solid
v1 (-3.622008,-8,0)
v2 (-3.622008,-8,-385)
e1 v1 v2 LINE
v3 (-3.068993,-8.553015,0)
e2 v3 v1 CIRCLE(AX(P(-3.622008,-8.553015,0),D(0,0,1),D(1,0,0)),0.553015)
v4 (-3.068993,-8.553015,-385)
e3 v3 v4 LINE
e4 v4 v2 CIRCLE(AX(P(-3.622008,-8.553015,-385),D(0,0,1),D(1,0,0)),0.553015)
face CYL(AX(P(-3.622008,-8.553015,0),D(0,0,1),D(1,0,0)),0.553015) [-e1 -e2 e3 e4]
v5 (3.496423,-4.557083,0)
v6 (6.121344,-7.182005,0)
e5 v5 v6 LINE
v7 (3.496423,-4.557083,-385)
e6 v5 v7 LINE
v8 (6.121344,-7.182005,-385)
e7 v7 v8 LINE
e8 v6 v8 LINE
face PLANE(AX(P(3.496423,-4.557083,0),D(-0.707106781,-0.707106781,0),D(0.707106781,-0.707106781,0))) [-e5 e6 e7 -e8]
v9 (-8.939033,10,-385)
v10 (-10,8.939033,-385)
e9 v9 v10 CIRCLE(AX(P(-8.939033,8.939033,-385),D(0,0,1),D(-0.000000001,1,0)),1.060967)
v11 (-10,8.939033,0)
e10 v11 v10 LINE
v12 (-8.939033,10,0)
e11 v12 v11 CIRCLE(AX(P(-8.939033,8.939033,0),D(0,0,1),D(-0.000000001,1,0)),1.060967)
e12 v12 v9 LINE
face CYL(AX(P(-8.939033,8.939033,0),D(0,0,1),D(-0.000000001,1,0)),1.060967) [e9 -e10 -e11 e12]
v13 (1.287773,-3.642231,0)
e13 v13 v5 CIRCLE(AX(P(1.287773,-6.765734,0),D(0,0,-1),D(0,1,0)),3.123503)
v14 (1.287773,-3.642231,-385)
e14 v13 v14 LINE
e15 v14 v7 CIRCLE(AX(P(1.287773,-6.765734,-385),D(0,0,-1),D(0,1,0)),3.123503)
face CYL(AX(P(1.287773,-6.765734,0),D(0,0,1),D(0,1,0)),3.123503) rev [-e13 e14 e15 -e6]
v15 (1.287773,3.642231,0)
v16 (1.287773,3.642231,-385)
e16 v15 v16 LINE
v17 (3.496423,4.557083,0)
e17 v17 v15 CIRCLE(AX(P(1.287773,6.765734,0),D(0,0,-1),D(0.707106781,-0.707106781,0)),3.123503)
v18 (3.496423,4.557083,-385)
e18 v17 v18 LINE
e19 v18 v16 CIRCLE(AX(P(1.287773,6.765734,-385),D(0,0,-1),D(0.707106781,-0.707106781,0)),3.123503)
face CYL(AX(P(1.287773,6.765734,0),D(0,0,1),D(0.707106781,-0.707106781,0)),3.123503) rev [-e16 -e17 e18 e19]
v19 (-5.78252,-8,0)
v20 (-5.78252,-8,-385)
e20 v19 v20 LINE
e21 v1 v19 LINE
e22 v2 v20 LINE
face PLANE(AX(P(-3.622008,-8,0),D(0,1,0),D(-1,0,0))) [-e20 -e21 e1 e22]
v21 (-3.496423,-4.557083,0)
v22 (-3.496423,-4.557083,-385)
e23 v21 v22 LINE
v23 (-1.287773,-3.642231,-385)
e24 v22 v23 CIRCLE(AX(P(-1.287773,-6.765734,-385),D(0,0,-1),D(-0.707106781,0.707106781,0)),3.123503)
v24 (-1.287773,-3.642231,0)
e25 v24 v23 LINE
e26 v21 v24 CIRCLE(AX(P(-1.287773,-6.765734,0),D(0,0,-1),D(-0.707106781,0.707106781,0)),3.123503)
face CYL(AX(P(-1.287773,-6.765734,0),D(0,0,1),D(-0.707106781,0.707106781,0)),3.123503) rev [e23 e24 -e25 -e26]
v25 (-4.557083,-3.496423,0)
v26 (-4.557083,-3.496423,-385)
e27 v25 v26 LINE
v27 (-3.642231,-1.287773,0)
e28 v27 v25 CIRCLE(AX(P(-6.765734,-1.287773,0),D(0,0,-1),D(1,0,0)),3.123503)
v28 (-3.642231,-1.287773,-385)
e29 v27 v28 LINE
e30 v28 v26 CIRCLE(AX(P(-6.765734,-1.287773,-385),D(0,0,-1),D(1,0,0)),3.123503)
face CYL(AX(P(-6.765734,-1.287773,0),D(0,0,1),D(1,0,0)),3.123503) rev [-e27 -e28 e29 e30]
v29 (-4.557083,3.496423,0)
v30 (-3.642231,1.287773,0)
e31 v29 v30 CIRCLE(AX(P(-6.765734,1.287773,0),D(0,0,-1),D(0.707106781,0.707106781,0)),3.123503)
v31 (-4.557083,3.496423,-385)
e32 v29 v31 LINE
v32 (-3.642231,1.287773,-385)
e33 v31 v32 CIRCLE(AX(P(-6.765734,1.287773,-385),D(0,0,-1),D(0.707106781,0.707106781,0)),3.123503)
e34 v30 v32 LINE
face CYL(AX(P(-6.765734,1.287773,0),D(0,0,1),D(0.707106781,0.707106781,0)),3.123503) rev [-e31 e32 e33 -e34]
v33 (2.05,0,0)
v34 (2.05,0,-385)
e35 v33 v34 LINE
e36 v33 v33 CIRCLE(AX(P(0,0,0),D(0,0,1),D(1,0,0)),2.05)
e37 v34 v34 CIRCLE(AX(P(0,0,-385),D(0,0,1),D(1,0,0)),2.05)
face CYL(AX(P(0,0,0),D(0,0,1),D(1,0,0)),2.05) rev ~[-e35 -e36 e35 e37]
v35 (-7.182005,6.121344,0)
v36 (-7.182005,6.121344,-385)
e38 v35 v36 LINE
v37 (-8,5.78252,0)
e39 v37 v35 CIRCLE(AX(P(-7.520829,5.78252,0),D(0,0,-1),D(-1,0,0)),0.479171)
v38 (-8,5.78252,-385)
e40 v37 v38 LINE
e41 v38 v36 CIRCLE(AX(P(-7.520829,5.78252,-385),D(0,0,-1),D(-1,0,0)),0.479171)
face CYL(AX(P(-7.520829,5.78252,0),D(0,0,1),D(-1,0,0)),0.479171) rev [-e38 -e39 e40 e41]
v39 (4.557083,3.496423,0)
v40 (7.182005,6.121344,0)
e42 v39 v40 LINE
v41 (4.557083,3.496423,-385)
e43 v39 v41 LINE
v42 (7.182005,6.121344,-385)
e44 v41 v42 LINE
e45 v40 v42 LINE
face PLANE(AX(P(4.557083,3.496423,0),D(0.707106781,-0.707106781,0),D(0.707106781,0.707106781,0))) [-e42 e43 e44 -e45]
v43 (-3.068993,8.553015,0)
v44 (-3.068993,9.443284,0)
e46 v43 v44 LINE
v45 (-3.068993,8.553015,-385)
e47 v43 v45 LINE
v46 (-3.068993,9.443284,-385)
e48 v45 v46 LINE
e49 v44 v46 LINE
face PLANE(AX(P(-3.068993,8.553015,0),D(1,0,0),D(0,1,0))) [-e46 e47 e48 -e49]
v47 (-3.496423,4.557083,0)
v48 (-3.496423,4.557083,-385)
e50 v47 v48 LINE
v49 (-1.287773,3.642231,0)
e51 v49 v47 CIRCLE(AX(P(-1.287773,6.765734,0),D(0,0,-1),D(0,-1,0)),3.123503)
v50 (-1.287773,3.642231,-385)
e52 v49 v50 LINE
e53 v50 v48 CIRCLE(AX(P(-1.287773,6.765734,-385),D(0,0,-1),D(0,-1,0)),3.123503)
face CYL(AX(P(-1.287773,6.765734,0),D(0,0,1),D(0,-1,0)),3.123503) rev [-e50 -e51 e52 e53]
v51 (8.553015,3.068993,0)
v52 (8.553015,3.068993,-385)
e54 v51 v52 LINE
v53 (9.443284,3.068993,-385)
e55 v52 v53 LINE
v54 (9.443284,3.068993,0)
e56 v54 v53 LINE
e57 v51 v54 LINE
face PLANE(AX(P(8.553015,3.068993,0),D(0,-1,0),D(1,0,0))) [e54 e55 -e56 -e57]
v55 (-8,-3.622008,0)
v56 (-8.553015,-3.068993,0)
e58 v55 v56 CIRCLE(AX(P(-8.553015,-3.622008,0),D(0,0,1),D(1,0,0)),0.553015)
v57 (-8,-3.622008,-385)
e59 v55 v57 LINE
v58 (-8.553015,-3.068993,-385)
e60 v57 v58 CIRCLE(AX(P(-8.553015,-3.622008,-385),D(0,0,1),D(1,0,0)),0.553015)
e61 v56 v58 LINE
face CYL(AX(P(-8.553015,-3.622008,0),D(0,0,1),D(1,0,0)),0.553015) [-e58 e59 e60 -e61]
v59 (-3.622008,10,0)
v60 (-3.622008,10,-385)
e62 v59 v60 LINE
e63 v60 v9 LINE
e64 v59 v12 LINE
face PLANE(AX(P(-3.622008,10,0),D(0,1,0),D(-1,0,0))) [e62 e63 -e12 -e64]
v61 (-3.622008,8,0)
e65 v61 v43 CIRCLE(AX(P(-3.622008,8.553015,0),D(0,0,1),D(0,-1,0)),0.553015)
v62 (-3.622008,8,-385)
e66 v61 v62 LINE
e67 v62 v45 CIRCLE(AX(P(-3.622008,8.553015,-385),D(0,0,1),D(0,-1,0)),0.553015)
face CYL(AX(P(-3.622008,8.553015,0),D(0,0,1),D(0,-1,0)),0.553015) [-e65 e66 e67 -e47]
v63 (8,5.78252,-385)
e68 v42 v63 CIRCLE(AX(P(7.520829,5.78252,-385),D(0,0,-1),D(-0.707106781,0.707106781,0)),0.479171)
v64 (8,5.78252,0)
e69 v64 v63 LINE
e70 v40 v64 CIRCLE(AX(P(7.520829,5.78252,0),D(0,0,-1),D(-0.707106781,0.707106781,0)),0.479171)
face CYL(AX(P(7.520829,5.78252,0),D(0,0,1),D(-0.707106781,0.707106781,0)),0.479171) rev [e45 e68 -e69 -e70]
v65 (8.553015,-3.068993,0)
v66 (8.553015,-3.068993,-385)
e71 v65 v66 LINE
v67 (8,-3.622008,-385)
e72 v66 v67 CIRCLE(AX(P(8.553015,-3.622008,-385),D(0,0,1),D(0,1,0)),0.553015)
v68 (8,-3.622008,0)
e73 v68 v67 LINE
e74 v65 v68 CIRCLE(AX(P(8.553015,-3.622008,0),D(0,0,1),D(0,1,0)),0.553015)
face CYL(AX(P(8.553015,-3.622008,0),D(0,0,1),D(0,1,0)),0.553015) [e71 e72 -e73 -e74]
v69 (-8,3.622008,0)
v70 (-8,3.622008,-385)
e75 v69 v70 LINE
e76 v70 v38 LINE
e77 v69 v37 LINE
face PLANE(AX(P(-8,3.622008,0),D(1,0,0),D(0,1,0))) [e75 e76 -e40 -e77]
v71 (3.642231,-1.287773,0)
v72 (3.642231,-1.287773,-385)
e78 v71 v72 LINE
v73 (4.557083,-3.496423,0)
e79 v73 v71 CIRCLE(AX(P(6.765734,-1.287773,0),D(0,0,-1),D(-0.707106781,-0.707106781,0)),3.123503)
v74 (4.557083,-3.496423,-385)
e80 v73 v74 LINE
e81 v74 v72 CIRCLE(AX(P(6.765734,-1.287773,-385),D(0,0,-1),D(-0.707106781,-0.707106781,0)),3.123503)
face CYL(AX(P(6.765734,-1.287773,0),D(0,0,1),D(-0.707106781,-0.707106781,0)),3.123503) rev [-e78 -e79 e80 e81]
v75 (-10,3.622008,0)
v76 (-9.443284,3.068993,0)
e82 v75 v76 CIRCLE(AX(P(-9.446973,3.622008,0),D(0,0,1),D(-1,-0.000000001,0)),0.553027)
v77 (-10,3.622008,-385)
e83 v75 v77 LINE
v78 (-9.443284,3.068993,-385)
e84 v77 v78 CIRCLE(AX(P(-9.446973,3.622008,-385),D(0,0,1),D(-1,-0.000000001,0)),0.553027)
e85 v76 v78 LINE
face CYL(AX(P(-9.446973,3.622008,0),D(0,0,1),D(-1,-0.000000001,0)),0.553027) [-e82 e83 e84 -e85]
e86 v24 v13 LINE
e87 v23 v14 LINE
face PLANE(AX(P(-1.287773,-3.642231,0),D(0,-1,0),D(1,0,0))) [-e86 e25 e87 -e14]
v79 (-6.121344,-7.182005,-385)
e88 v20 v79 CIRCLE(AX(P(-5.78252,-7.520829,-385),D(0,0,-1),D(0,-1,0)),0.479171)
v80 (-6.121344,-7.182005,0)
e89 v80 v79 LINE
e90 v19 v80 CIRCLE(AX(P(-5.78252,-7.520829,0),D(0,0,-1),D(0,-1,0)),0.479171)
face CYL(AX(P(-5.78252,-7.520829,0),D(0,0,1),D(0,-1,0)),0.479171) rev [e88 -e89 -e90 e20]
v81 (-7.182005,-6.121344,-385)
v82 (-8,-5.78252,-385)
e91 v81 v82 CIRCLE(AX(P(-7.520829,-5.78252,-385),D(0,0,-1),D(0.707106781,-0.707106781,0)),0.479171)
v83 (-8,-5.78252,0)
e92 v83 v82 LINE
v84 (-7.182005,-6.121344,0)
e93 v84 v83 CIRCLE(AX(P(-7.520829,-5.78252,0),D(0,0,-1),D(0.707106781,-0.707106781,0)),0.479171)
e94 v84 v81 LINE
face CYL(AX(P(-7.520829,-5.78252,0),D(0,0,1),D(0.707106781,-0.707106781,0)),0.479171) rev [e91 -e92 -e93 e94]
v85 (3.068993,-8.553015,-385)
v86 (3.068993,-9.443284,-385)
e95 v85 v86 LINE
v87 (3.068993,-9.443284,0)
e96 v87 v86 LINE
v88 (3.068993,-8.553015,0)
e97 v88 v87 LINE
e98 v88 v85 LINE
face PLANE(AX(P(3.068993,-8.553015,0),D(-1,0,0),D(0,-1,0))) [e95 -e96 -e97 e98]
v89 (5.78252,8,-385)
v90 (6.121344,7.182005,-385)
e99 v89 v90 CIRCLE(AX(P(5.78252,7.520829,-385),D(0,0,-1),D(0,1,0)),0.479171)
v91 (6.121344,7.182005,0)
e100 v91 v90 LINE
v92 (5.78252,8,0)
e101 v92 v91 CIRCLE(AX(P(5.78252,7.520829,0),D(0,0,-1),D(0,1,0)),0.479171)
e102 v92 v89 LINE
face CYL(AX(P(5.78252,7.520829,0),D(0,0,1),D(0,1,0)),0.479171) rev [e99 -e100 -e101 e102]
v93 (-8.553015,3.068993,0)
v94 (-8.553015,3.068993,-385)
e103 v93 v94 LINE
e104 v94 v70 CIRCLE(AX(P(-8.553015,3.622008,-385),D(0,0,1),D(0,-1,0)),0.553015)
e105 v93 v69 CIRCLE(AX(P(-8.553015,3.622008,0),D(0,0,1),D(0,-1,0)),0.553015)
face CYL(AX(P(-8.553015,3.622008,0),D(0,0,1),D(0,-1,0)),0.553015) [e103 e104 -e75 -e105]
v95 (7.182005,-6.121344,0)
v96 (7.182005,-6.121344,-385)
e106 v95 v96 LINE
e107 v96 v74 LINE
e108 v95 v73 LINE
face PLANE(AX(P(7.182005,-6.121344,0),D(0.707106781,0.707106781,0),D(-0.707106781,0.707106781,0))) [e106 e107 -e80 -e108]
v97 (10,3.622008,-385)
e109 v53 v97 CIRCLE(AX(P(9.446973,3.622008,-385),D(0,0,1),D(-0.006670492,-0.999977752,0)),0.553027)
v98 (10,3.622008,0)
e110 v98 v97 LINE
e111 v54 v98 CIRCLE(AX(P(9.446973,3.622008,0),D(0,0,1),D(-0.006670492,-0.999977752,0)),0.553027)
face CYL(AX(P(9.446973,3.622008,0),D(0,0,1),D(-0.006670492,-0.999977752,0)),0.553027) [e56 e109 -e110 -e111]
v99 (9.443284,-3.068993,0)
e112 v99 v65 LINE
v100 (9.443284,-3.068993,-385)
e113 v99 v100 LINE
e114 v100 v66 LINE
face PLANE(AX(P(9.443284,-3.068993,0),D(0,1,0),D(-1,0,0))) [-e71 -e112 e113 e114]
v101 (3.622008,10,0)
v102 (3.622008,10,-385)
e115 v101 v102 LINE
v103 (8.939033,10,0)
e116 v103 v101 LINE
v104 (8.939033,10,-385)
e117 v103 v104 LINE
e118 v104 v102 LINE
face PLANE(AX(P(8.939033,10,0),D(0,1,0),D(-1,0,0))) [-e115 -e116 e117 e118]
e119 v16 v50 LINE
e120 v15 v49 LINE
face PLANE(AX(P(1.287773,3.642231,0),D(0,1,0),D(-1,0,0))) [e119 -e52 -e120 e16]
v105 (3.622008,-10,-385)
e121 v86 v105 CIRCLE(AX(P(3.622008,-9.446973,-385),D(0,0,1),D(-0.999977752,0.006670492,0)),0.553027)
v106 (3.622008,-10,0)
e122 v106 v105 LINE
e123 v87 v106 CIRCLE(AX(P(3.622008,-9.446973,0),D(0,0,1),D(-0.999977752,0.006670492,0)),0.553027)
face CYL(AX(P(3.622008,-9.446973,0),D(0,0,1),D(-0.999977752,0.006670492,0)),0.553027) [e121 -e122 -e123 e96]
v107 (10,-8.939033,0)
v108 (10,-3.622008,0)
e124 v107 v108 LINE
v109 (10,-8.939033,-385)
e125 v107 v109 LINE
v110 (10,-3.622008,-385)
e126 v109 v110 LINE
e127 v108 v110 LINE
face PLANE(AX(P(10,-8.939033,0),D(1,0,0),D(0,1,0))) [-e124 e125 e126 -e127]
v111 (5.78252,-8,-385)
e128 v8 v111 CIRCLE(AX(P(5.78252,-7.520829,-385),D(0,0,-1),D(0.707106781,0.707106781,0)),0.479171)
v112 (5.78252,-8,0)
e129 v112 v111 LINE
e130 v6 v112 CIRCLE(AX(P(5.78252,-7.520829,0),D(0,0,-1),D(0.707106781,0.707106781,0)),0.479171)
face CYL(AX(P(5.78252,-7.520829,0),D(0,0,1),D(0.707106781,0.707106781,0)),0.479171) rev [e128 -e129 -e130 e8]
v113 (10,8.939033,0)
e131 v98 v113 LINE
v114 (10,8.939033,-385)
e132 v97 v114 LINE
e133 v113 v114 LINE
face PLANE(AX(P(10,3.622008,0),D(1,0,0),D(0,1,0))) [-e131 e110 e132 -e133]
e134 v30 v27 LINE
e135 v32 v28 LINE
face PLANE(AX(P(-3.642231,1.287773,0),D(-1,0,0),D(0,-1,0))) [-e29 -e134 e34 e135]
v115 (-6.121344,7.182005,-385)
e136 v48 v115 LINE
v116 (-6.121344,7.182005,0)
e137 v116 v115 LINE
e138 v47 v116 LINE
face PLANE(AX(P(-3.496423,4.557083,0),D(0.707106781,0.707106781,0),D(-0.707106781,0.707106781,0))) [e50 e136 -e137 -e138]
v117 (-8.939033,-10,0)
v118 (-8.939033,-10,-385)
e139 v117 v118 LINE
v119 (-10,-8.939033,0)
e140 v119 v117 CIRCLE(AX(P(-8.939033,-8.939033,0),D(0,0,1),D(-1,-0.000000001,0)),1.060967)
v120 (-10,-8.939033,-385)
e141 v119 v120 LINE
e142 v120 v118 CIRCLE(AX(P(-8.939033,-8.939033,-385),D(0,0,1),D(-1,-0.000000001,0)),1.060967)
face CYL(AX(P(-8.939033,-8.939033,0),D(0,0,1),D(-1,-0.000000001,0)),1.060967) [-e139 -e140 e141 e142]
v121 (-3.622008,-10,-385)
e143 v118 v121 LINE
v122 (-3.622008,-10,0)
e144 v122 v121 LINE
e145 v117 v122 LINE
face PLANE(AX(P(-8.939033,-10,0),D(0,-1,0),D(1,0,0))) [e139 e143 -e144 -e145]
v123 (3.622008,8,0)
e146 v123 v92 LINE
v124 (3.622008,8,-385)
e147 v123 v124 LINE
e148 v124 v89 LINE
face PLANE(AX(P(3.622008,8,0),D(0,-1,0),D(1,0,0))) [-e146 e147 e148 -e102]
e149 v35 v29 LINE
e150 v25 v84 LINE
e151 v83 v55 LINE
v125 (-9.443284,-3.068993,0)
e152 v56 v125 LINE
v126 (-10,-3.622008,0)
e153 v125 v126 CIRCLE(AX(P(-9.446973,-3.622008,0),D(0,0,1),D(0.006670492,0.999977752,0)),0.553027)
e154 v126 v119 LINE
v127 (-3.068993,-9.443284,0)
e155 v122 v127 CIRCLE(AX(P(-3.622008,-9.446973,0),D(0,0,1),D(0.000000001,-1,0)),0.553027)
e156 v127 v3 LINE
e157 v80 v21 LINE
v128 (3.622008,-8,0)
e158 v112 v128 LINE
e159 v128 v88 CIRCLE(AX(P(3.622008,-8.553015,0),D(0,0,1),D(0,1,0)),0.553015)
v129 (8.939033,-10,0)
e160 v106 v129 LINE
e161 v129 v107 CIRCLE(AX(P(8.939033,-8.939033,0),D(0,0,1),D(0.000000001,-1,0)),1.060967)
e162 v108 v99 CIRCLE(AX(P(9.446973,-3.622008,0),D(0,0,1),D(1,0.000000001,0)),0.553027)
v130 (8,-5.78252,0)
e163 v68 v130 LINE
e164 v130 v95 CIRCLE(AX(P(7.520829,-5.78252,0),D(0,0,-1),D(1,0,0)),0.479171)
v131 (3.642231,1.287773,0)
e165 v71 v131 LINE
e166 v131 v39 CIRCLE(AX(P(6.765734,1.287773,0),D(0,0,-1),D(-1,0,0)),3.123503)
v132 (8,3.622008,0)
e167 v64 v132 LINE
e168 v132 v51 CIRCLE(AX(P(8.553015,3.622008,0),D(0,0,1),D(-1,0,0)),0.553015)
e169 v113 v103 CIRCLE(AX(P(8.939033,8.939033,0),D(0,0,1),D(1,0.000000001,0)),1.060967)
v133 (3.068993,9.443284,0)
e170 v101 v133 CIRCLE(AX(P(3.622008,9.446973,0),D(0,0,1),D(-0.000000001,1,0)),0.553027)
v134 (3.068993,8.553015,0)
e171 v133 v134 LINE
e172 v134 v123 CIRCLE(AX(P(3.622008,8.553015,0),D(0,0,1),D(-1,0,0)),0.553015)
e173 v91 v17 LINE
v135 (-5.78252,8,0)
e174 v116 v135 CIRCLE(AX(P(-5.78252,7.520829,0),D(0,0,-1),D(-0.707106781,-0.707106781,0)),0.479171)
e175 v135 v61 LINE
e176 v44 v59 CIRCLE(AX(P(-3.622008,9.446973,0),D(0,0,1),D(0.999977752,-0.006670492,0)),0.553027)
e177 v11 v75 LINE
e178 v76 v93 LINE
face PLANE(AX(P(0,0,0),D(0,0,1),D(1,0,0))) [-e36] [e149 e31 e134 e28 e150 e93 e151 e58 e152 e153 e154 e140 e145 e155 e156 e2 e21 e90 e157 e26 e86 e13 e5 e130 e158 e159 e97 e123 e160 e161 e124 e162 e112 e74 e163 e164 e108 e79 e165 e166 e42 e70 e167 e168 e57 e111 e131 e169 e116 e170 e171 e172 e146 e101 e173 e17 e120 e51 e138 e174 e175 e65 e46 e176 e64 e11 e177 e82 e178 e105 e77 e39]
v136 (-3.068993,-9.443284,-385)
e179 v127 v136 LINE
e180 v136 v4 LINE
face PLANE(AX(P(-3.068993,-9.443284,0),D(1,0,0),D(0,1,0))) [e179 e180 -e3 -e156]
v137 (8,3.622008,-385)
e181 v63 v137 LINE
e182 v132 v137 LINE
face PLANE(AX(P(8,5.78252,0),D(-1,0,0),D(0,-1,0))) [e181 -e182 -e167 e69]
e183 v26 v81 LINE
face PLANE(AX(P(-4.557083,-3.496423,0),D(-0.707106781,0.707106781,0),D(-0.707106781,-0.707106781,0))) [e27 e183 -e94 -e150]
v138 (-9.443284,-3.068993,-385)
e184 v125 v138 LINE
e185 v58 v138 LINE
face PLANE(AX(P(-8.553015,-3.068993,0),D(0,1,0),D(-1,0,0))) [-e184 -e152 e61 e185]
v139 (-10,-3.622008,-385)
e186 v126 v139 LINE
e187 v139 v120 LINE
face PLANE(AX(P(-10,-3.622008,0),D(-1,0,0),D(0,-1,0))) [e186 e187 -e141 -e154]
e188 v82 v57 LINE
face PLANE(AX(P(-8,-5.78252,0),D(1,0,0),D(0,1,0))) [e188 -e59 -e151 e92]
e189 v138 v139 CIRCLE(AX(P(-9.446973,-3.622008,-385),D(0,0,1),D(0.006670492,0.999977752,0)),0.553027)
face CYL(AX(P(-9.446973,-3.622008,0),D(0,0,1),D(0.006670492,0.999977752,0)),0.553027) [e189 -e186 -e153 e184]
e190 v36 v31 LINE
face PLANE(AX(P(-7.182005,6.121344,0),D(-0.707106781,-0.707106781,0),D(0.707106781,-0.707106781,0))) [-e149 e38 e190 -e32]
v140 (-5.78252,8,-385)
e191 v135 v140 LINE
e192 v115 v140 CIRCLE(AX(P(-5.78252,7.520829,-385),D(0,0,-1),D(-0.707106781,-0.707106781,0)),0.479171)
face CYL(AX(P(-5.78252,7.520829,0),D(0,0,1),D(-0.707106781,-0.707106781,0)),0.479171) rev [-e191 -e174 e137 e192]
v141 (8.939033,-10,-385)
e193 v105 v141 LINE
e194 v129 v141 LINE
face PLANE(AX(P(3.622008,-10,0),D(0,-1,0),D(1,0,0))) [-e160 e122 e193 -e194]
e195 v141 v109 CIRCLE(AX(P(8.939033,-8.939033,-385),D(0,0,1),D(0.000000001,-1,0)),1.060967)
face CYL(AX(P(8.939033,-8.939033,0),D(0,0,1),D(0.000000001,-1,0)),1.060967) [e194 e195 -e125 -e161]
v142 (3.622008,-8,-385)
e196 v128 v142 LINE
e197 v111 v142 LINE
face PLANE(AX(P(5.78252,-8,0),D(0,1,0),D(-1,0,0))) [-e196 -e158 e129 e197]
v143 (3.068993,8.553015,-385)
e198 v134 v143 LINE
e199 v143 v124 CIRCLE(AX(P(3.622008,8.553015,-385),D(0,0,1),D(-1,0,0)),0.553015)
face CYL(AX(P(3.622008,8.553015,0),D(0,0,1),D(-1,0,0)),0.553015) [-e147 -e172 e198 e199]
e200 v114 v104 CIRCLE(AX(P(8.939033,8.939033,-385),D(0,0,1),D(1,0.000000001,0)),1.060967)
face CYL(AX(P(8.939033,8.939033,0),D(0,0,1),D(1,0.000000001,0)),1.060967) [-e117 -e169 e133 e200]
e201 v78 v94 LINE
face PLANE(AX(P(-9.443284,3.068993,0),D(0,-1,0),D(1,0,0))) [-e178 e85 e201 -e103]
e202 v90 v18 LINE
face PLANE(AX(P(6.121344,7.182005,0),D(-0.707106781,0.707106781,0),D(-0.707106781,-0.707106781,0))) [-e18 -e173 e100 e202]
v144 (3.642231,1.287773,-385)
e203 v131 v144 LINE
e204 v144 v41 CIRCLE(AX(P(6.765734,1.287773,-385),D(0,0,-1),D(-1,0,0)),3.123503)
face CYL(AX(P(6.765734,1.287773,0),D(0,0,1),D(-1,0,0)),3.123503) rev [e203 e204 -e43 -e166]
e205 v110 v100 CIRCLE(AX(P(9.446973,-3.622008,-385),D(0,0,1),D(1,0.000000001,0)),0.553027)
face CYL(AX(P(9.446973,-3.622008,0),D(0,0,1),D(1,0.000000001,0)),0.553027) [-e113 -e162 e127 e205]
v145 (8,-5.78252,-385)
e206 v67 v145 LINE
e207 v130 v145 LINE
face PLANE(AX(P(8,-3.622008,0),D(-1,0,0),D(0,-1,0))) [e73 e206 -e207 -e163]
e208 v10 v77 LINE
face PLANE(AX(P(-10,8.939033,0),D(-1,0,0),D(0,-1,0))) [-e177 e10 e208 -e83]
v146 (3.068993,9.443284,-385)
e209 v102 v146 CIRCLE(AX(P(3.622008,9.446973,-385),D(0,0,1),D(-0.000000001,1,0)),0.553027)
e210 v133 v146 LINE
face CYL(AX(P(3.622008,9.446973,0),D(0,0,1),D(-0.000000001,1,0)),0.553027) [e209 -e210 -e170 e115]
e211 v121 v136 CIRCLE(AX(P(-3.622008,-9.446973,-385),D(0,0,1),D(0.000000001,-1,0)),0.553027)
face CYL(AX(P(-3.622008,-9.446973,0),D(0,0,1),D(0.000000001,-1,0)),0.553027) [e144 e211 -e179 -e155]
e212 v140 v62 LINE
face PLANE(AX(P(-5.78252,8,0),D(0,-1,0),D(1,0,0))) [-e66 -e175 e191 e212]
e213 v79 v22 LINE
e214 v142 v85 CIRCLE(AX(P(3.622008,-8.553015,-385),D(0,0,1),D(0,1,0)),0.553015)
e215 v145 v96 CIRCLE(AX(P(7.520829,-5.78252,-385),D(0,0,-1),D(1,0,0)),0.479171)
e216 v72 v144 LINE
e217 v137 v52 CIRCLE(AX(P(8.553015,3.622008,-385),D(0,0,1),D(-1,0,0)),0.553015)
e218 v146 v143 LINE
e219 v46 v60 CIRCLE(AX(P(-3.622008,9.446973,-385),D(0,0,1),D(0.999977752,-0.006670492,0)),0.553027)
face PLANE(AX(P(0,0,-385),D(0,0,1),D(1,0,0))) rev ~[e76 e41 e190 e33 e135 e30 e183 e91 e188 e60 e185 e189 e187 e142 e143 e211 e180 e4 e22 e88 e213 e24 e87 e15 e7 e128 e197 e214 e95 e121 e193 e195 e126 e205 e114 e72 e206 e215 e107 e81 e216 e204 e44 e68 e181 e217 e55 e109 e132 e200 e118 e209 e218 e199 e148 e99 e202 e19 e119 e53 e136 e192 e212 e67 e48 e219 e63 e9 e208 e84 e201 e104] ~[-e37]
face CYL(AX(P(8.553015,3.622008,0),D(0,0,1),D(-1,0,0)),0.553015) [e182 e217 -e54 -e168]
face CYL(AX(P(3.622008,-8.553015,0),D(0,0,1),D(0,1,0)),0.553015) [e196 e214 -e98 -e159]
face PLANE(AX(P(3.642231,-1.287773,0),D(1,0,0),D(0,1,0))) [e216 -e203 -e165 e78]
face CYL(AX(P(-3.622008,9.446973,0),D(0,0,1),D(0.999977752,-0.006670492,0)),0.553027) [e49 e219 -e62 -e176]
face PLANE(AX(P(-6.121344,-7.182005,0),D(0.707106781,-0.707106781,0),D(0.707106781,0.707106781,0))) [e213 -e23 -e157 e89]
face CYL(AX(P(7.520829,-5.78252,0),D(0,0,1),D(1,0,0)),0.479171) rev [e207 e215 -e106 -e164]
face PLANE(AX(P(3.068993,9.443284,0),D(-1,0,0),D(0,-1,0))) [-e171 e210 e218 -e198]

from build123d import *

# Parameters (mm, degrees)
SKETCH2_R           = 2.05
BOSS_EXTRUDE2_DEPTH = 385


with BuildPart() as part:
    # Sketch2 → Boss-Extrude2 (new body)
    with BuildSketch(Plane.XY):
        with BuildLine():
            Line((-3.642230561, 1.287773026), (-3.642230561, -1.287773026))
            ThreePointArc((-3.642230561, -1.287773026), (-3.87999308, -2.483085929), (-4.55708345, -3.496423279))
            Line((-4.55708345, -3.496423279), (-7.182004606, -6.121344434))
            ThreePointArc((-7.182004606, -6.121344434), (-7.704200045, -6.225215565), (-8, -5.782519648))
            Line((-8, -5.782519648), (-8, -3.622007668))
            ThreePointArc((-8, -3.622007668), (-8.161974206, -3.230967343), (-8.553014531, -3.068993137))
            Line((-8.553014531, -3.068993137), (-9.443284204, -3.068993137))
            ThreePointArc((-9.443284204, -3.068993137), (-9.836715763, -3.229656566), (-10, -3.622007668))
            Line((-10, -3.622007668), (-10, -8.939033256))
            ThreePointArc((-10, -8.939033256), (-9.689250035, -9.689250035), (-8.939033256, -10))
            Line((-8.939033256, -10), (-3.622007668, -10))
            ThreePointArc((-3.622007668, -10), (-3.229656566, -9.836715763), (-3.068993137, -9.443284204))
            Line((-3.068993137, -9.443284204), (-3.068993137, -8.553014531))
            ThreePointArc((-3.068993137, -8.553014531), (-3.230967343, -8.161974206), (-3.622007668, -8))
            Line((-3.622007668, -8), (-5.782519648, -8))
            ThreePointArc((-5.782519648, -8), (-6.225215565, -7.704200045), (-6.121344434, -7.182004606))
            Line((-6.121344434, -7.182004606), (-3.496423279, -4.55708345))
            ThreePointArc((-3.496423279, -4.55708345), (-2.483085929, -3.87999308), (-1.287773026, -3.642230561))
            Line((-1.287773026, -3.642230561), (1.287773026, -3.642230561))
            ThreePointArc((1.287773026, -3.642230561), (2.483085929, -3.87999308), (3.496423279, -4.55708345))
            Line((3.496423279, -4.55708345), (6.121344434, -7.182004606))
            ThreePointArc((6.121344434, -7.182004606), (6.225215565, -7.704200045), (5.782519648, -8))
            Line((5.782519648, -8), (3.622007668, -8))
            ThreePointArc((3.622007668, -8), (3.230967343, -8.161974206), (3.068993137, -8.553014531))
            Line((3.068993137, -8.553014531), (3.068993137, -9.443284204))
            ThreePointArc((3.068993137, -9.443284204), (3.229656566, -9.836715763), (3.622007668, -10))
            Line((3.622007668, -10), (8.939033256, -10))
            ThreePointArc((8.939033256, -10), (9.689250035, -9.689250035), (10, -8.939033256))
            Line((10, -8.939033256), (10, -3.622007668))
            ThreePointArc((10, -3.622007668), (9.836715763, -3.229656566), (9.443284204, -3.068993137))
            Line((9.443284204, -3.068993137), (8.553014531, -3.068993137))
            ThreePointArc((8.553014531, -3.068993137), (8.161974206, -3.230967343), (8, -3.622007668))
            Line((8, -3.622007668), (8, -5.782519648))
            ThreePointArc((8, -5.782519648), (7.704200045, -6.225215565), (7.182004606, -6.121344434))
            Line((7.182004606, -6.121344434), (4.55708345, -3.496423279))
            ThreePointArc((4.55708345, -3.496423279), (3.87999308, -2.483085929), (3.642230561, -1.287773026))
            Line((3.642230561, -1.287773026), (3.642230561, 1.287773026))
            ThreePointArc((3.642230561, 1.287773026), (3.87999308, 2.483085929), (4.55708345, 3.496423279))
            Line((4.55708345, 3.496423279), (7.182004606, 6.121344434))
            ThreePointArc((7.182004606, 6.121344434), (7.704200045, 6.225215565), (8, 5.782519648))
            Line((8, 5.782519648), (8, 3.622007668))
            ThreePointArc((8, 3.622007668), (8.161974206, 3.230967343), (8.553014531, 3.068993137))
            Line((8.553014531, 3.068993137), (9.443284204, 3.068993137))
            ThreePointArc((9.443284204, 3.068993137), (9.836715763, 3.229656566), (10, 3.622007668))
            Line((10, 3.622007668), (10, 8.939033256))
            ThreePointArc((10, 8.939033256), (9.689250035, 9.689250035), (8.939033256, 10))
            Line((8.939033256, 10), (3.622007668, 10))
            ThreePointArc((3.622007668, 10), (3.229656566, 9.836715763), (3.068993137, 9.443284204))
            Line((3.068993137, 9.443284204), (3.068993137, 8.553014531))
            ThreePointArc((3.068993137, 8.553014531), (3.230967343, 8.161974206), (3.622007668, 8))
            Line((3.622007668, 8), (5.782519648, 8))
            ThreePointArc((5.782519648, 8), (6.225215565, 7.704200045), (6.121344434, 7.182004606))
            Line((6.121344434, 7.182004606), (3.496423279, 4.55708345))
            ThreePointArc((3.496423279, 4.55708345), (2.483085929, 3.87999308), (1.287773026, 3.642230561))
            Line((1.287773026, 3.642230561), (-1.287773026, 3.642230561))
            ThreePointArc((-1.287773026, 3.642230561), (-2.483085929, 3.87999308), (-3.496423279, 4.55708345))
            Line((-3.496423279, 4.55708345), (-6.121344434, 7.182004606))
            ThreePointArc((-6.121344434, 7.182004606), (-6.225215565, 7.704200045), (-5.782519648, 8))
            Line((-5.782519648, 8), (-3.622007668, 8))
            ThreePointArc((-3.622007668, 8), (-3.230967343, 8.161974206), (-3.068993137, 8.553014531))
            Line((-3.068993137, 8.553014531), (-3.068993137, 9.443284204))
            ThreePointArc((-3.068993137, 9.443284204), (-3.229656566, 9.836715763), (-3.622007668, 10))
            Line((-3.622007668, 10), (-8.939033256, 10))
            ThreePointArc((-8.939033256, 10), (-9.689250035, 9.689250035), (-10, 8.939033256))
            Line((-10, 8.939033256), (-10, 3.622007668))
            ThreePointArc((-10, 3.622007668), (-9.836715763, 3.229656566), (-9.443284204, 3.068993137))
            Line((-9.443284204, 3.068993137), (-8.553014531, 3.068993137))
            ThreePointArc((-8.553014531, 3.068993137), (-8.161974206, 3.230967343), (-8, 3.622007668))
            Line((-8, 3.622007668), (-8, 5.782519648))
            ThreePointArc((-8, 5.782519648), (-7.704200045, 6.225215565), (-7.182004606, 6.121344434))
            Line((-7.182004606, 6.121344434), (-4.55708345, 3.496423279))
            ThreePointArc((-4.55708345, 3.496423279), (-3.87999308, 2.483085929), (-3.642230561, 1.287773026))
        make_face()
        Circle(SKETCH2_R, mode=Mode.SUBTRACT)
    extrude(amount=-BOSS_EXTRUDE2_DEPTH)


solid = part.part
